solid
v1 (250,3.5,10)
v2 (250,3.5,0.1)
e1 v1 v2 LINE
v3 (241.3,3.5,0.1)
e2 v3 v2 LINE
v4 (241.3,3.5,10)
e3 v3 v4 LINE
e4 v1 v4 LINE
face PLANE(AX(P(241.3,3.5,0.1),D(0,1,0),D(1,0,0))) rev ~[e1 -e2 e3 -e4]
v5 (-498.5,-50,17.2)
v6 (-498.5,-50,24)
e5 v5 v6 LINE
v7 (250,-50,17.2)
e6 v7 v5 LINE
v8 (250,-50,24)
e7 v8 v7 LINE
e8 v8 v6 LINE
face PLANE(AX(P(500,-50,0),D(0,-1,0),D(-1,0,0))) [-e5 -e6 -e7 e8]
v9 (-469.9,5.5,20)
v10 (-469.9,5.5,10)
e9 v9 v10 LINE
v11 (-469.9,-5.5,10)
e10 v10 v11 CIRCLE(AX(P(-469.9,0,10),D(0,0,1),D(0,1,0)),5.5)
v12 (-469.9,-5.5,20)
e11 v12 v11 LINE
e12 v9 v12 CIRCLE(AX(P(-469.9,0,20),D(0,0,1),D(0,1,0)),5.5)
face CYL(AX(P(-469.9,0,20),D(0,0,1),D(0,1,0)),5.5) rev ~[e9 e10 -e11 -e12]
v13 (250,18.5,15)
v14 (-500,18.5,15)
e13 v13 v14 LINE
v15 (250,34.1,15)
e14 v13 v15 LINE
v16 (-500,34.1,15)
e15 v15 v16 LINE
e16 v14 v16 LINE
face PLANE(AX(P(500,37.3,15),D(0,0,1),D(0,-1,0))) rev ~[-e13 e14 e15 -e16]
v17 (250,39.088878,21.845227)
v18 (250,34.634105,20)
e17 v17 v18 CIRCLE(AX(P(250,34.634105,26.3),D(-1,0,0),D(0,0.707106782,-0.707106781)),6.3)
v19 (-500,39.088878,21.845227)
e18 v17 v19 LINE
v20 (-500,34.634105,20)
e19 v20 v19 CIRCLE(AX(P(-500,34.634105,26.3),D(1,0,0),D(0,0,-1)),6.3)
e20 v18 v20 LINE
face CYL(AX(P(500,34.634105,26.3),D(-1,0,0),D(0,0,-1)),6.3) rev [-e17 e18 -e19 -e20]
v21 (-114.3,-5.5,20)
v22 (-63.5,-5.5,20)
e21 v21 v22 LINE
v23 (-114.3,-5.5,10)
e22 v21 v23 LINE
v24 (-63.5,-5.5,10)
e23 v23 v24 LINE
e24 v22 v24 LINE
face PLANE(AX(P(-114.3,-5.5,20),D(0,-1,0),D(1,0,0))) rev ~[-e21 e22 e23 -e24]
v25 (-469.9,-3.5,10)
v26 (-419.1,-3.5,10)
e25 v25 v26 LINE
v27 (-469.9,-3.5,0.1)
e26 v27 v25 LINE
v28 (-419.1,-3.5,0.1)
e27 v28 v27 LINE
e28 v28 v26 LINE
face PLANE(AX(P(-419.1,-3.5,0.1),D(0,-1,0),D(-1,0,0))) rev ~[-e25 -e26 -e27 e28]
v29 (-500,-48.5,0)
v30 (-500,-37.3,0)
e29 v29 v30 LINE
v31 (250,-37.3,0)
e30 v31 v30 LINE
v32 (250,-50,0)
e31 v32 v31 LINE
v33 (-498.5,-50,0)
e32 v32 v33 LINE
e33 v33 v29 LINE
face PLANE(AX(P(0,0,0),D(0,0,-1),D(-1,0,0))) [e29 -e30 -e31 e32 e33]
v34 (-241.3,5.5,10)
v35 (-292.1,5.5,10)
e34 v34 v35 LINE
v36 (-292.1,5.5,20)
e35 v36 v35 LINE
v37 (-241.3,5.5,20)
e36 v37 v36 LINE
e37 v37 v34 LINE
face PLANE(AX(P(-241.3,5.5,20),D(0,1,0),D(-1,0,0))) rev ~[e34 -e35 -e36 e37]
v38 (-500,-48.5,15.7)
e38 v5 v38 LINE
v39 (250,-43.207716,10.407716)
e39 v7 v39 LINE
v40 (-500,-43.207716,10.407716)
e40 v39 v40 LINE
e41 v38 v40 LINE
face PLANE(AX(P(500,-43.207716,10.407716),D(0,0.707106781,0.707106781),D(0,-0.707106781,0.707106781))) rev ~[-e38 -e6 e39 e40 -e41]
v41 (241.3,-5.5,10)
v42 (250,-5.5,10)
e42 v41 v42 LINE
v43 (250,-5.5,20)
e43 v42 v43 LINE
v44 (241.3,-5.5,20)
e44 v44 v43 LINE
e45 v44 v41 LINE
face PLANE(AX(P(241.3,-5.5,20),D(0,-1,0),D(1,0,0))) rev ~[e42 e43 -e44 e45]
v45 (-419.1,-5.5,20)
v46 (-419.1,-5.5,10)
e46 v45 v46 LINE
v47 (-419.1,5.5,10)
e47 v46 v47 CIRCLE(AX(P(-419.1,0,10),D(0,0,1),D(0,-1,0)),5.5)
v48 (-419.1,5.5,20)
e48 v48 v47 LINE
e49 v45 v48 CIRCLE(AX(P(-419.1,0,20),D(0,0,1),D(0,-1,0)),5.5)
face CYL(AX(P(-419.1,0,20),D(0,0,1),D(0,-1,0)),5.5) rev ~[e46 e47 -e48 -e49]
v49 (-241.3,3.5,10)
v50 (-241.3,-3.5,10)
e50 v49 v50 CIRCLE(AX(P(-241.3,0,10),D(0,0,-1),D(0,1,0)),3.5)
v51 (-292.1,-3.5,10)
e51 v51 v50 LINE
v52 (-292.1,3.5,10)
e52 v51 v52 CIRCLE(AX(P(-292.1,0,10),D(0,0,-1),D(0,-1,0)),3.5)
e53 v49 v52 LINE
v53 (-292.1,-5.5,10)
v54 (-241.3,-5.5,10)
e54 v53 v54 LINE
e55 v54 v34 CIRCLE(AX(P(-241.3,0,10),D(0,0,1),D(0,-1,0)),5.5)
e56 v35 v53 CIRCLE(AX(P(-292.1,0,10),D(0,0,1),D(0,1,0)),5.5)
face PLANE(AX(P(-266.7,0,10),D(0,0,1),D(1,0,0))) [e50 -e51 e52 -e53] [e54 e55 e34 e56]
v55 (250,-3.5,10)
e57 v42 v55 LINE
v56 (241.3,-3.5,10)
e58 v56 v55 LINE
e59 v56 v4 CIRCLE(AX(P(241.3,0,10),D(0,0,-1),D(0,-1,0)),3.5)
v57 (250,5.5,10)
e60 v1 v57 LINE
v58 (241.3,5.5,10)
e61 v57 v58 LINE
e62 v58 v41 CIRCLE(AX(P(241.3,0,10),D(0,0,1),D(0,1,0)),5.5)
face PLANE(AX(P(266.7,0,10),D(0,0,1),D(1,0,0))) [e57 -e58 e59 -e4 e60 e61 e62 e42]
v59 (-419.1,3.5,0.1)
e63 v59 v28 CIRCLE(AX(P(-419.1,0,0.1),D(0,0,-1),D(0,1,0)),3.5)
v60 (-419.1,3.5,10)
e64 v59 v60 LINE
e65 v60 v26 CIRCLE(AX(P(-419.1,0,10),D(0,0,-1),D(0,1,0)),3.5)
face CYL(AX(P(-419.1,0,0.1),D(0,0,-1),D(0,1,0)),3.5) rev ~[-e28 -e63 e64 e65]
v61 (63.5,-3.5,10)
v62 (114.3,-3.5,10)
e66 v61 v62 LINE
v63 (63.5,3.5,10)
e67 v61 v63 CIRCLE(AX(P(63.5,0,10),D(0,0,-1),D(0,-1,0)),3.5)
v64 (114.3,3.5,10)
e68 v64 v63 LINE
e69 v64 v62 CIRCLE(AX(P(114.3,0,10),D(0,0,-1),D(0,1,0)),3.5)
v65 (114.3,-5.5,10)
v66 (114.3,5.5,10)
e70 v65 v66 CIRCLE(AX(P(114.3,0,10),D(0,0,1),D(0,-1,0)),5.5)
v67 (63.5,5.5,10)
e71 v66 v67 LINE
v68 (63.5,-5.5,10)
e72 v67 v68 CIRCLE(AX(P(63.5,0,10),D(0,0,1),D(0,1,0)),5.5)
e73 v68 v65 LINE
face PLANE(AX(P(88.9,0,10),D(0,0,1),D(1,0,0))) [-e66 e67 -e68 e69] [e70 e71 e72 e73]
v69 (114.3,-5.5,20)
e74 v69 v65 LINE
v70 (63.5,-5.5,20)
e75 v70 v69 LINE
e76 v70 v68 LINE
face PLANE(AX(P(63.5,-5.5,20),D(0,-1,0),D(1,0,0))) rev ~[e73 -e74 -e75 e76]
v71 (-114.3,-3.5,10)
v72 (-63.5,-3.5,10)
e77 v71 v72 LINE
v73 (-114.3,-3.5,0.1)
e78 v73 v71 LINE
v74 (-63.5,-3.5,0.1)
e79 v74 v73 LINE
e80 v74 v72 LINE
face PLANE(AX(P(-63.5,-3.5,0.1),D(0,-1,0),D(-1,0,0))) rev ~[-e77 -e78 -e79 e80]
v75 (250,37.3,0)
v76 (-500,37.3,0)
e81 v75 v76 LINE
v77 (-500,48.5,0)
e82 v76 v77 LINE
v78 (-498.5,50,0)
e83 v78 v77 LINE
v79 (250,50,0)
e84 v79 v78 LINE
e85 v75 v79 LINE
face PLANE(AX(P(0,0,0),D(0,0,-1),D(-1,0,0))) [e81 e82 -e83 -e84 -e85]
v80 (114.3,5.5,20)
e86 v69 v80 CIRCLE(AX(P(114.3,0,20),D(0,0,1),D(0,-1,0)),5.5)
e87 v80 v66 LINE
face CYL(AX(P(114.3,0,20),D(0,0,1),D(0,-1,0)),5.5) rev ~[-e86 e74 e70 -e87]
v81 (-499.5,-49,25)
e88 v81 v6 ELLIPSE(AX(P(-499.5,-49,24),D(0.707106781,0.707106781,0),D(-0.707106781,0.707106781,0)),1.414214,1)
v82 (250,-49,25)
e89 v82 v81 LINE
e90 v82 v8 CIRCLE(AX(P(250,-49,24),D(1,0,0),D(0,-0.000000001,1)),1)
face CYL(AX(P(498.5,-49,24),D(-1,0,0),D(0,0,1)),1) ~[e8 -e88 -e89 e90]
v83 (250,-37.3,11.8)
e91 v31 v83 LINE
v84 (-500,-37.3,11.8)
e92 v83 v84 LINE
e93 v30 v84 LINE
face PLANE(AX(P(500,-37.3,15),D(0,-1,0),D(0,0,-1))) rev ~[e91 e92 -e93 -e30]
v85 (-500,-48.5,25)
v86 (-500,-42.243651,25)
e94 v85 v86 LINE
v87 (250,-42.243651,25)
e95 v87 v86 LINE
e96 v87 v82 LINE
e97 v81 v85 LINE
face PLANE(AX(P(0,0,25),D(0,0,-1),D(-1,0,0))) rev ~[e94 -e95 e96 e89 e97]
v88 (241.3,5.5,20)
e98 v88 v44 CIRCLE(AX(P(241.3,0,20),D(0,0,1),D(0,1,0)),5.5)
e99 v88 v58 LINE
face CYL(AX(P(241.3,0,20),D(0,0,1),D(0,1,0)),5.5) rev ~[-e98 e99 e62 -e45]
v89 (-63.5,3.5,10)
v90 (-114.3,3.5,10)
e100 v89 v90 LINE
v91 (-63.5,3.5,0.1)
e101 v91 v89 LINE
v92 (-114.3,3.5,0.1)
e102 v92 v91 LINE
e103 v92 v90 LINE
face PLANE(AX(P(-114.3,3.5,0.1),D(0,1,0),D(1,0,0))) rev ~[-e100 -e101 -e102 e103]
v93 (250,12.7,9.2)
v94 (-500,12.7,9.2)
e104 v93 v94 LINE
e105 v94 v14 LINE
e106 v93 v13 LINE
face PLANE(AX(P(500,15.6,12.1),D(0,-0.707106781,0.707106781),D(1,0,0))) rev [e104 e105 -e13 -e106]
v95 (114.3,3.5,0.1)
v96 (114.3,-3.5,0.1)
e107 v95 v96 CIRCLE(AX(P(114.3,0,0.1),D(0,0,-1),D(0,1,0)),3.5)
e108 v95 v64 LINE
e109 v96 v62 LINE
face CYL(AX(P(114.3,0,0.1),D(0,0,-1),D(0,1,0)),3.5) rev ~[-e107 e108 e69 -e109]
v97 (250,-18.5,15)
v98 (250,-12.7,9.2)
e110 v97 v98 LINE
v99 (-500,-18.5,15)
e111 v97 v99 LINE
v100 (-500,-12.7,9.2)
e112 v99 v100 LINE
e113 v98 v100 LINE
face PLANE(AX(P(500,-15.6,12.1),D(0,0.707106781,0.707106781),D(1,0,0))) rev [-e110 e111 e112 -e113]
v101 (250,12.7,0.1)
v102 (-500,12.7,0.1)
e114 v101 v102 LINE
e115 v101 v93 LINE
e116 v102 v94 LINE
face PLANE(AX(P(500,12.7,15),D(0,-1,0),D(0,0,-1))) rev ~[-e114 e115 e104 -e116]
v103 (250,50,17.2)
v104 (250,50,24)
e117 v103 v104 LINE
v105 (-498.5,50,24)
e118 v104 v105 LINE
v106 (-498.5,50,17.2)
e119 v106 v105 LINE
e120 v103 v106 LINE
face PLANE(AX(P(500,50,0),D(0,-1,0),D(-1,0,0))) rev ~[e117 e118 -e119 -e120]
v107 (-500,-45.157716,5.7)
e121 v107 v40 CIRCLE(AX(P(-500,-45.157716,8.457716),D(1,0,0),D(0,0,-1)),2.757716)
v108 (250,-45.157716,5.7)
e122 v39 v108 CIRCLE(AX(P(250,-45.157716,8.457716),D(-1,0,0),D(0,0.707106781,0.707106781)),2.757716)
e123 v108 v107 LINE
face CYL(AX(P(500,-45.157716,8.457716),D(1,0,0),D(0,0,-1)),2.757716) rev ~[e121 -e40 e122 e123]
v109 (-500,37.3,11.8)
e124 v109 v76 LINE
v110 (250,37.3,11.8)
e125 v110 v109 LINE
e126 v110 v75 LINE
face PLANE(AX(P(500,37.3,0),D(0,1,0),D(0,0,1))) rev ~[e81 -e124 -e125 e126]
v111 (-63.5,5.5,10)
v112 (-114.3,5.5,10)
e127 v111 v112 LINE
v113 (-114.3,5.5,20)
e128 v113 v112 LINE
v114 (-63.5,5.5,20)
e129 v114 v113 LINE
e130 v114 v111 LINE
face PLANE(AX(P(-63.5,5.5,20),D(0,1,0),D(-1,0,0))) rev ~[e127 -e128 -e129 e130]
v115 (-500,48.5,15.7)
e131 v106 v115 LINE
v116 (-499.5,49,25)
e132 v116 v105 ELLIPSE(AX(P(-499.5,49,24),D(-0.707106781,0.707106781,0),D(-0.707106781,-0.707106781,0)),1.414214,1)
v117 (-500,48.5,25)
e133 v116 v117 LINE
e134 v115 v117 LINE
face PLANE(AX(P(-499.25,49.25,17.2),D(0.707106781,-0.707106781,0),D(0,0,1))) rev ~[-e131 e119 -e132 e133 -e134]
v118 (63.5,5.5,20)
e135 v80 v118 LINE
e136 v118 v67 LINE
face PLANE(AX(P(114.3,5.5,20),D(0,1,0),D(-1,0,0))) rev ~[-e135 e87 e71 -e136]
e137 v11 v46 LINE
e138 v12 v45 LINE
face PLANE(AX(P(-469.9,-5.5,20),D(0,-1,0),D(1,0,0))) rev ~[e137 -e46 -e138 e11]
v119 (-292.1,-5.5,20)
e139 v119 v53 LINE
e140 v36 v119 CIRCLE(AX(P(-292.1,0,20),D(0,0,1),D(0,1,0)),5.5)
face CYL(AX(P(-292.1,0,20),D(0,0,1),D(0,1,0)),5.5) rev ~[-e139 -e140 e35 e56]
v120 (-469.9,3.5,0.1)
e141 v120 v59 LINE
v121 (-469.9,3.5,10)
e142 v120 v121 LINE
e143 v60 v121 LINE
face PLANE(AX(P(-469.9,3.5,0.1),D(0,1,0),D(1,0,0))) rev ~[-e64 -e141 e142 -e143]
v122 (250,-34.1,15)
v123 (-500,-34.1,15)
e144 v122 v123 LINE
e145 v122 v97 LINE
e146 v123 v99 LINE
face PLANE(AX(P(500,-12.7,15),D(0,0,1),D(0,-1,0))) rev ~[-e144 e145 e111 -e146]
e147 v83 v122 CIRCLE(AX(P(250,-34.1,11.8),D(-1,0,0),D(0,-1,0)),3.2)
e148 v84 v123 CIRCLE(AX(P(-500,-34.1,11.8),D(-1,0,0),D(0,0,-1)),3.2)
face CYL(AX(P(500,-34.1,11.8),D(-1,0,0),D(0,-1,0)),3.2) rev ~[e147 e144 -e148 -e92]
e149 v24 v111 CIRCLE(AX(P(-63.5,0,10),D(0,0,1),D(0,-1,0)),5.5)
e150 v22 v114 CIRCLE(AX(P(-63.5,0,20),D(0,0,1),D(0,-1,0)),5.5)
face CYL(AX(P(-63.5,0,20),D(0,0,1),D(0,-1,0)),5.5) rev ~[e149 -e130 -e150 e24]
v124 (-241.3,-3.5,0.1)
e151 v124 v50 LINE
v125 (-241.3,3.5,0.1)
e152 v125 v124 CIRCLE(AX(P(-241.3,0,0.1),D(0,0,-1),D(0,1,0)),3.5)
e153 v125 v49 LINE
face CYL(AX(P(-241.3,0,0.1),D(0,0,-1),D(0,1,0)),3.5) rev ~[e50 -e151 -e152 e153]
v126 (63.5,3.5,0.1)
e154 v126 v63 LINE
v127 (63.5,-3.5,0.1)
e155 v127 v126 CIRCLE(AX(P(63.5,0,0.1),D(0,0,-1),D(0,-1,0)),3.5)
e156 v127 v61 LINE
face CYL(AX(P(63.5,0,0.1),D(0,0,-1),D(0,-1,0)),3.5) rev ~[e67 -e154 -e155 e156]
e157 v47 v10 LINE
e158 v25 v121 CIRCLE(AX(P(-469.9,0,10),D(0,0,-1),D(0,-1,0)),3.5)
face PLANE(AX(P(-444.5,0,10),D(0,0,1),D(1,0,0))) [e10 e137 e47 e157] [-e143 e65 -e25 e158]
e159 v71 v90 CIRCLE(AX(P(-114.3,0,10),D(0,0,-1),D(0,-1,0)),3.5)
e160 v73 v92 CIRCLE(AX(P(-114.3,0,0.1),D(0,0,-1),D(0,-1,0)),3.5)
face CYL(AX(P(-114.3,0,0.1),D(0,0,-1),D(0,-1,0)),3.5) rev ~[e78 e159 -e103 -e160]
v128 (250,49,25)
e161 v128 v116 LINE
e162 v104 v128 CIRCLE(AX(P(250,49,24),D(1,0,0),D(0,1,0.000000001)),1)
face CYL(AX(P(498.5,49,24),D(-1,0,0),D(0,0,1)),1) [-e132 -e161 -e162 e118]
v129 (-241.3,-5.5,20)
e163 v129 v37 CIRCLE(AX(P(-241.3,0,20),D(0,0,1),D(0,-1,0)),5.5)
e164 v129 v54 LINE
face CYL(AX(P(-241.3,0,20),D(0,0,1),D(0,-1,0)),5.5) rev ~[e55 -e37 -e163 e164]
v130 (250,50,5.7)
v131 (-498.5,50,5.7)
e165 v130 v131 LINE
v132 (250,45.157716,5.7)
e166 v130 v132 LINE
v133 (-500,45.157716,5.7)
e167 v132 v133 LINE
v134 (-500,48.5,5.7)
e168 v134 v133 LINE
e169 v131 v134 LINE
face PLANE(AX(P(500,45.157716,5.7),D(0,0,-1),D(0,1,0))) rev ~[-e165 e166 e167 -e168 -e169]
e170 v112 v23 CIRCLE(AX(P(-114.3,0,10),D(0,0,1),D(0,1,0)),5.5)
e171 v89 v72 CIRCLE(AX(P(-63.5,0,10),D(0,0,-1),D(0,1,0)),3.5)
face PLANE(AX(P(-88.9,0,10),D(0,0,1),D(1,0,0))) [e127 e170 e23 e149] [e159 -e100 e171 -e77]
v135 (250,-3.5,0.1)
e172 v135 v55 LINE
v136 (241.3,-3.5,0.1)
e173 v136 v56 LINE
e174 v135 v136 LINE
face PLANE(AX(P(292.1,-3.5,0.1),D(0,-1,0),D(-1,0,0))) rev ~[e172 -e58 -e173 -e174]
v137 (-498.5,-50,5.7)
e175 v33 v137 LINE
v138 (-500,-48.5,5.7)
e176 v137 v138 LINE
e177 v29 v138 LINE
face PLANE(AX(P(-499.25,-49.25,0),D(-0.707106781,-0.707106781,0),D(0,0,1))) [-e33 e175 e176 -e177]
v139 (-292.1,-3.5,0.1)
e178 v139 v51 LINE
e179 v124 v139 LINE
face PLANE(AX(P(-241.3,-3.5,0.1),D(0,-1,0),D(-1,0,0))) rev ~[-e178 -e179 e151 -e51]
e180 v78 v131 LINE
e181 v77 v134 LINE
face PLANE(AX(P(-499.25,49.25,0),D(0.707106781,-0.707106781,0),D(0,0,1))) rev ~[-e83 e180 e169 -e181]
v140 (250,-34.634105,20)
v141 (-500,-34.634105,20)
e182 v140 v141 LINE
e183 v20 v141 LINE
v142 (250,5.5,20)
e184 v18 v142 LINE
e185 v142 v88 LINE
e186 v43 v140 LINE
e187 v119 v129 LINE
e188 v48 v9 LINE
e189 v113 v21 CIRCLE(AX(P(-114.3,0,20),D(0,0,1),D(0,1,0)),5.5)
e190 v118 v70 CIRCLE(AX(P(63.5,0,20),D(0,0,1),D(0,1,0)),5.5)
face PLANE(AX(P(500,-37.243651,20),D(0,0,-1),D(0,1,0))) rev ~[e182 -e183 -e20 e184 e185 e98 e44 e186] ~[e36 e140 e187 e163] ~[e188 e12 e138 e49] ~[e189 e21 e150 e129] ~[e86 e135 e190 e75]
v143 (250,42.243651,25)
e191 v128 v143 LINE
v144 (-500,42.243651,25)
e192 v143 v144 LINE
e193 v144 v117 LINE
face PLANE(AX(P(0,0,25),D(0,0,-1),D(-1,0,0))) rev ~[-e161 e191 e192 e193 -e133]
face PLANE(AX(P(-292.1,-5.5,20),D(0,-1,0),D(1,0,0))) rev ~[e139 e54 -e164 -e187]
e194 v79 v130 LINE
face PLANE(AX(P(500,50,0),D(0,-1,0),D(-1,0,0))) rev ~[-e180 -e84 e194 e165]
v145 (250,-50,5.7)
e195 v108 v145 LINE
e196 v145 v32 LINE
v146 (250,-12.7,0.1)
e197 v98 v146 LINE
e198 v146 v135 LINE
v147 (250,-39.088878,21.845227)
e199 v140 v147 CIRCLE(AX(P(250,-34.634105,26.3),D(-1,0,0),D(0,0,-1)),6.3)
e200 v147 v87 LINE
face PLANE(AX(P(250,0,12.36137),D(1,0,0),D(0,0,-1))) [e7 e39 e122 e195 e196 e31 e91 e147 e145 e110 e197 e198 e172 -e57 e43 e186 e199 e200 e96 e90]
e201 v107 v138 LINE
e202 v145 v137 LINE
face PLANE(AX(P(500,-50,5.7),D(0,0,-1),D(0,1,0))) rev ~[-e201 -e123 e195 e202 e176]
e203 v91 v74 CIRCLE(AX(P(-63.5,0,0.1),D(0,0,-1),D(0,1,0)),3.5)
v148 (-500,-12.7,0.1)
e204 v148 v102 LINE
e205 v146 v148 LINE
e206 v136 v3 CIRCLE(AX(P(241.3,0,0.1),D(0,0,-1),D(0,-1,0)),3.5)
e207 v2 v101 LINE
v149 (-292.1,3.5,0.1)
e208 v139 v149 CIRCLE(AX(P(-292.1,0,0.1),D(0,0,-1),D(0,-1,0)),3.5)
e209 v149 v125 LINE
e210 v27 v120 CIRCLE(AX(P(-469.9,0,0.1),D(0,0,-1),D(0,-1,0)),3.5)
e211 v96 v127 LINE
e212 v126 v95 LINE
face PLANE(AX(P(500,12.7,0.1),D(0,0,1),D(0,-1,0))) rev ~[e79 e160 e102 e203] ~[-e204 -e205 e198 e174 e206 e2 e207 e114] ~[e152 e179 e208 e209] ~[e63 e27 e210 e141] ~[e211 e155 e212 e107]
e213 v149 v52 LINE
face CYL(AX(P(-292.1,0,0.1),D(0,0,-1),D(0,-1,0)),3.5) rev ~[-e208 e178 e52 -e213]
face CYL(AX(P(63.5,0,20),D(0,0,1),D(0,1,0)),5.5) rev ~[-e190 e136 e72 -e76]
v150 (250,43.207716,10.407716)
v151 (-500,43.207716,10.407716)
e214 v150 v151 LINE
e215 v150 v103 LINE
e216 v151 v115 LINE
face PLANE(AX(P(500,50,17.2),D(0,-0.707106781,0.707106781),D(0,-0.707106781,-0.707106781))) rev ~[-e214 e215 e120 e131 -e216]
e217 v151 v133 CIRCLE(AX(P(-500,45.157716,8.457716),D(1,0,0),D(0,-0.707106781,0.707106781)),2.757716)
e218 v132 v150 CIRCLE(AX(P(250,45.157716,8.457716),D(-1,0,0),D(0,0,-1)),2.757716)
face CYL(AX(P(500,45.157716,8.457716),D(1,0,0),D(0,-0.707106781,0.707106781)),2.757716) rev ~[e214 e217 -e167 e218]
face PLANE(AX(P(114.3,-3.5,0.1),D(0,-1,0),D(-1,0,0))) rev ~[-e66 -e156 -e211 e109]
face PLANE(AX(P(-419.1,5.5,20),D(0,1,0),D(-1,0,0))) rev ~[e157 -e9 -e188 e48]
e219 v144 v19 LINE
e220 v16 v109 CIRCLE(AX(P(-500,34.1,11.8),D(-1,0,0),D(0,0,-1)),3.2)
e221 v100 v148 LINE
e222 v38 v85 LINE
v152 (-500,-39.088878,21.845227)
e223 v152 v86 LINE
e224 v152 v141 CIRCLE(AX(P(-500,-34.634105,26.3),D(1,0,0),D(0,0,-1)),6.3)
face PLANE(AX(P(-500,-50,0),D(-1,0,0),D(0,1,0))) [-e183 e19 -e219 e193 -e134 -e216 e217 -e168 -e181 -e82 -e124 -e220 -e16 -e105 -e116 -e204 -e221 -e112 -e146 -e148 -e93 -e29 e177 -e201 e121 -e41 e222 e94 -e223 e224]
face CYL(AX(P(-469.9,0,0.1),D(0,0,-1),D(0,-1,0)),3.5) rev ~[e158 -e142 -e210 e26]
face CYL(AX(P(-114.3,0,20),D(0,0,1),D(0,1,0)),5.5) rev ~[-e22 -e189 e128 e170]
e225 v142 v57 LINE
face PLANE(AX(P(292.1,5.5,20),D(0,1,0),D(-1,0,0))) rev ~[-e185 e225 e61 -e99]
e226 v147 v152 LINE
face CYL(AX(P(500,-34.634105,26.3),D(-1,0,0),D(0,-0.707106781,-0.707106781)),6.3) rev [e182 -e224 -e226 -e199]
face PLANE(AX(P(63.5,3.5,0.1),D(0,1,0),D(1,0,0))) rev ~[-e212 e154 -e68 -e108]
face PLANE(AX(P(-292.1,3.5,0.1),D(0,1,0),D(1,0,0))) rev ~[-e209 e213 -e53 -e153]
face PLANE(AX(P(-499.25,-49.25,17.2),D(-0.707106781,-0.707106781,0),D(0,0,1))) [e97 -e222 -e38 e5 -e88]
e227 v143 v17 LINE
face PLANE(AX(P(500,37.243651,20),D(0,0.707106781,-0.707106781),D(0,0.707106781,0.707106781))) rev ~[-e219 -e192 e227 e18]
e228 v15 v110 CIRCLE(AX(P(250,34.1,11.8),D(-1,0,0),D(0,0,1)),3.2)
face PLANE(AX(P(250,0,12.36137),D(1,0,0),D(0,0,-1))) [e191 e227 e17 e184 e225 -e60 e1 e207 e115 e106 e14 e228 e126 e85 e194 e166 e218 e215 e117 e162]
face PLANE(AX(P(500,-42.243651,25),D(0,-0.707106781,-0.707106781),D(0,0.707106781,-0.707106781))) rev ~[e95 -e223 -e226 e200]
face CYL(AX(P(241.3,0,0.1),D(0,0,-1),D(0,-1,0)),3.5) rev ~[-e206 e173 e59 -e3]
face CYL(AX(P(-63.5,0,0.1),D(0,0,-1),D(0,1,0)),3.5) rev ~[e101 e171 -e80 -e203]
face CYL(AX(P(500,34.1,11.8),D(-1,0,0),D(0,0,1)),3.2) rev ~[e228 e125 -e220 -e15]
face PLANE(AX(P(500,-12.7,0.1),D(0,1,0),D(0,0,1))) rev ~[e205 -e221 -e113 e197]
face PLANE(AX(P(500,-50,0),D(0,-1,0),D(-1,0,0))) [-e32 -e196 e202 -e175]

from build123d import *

# Parameters (mm, degrees)
SKETCH1_W           = 1000
SKETCH1_H           = 100
BOSS_EXTRUDE1_DEPTH = 25
CUT_EXTRUDE1_DEPTH  = 1002.561281201
CUT_EXTRUDE2_DEPTH  = 1002.561281201
CUT_EXTRUDE3_DEPTH  = 1002.561281201
CUT_EXTRUDE4_DEPTH  = 1002.561281201
CUT_EXTRUDE5_DEPTH  = 10
CUT_EXTRUDE6_DEPTH  = 504.110335811
CUT_EXTRUDE7_DEPTH  = 10
CUT_EXTRUDE8_DEPTH  = 504.110335811
CUT_EXTRUDE9_DEPTH  = 10
CUT_EXTRUDE10_DEPTH = 504.110335811
CUT_EXTRUDE11_DEPTH = 10
CUT_EXTRUDE12_DEPTH = 504.110335811
CUT_EXTRUDE13_DEPTH = 10
CUT_EXTRUDE14_DEPTH = 504.110335811
CUT_EXTRUDE15_DEPTH = 10
CUT_EXTRUDE16_DEPTH = 504.110335811
CHAMFER1_SIZE       = 5.8
CHAMFER2_SIZE       = 1.5
FILLET1_R           = 1
FILLET2_R           = 3.2
FILLET3_R           = 6.3
CUT_EXTRUDE17_START = -250
CUT_EXTRUDE17_DEPTH = 250


with BuildPart() as part:
    # Sketch1 → Boss-Extrude1 (new body)
    with BuildSketch(Plane(origin=(0, 0, 0), x_dir=(-1, 0, 0), z_dir=(0, 0, -1))):
        Rectangle(SKETCH1_W, SKETCH1_H)
    extrude(amount=-BOSS_EXTRUDE1_DEPTH)

    # Sketch2 → Cut-Extrude1 (cut, through all)
    with BuildSketch(Plane(origin=(500, 0, 0), x_dir=(0, 0, -1), z_dir=(1, 0, 0))):
        Polygon((0, 37.3), (-15, 37.3), (-15, 12.7), (-0.1, 12.7), (-0.1, -12.7), (-15, -12.7), (-15, -37.3), (0, -37.3), align=None)
    extrude(amount=-CUT_EXTRUDE1_DEPTH, mode=Mode.SUBTRACT)

    # Sketch3 → Cut-Extrude2 (cut, through all)
    with BuildSketch(Plane(origin=(500, 0, 0), x_dir=(0, 0, -1), z_dir=(1, 0, 0))):
        with BuildLine():
            Line((-17.2, -50), (-5.7, -50))
            Line((-5.7, -50), (-5.7, -45.157716447))
            ThreePointArc((-5.7, -45.157716447), (-7.402384051, -42.609918665), (-10.407716447, -43.207716447))
            Line((-10.407716447, -43.207716447), (-17.2, -50))
        make_face()
    extrude(amount=-CUT_EXTRUDE2_DEPTH, mode=Mode.SUBTRACT)

    # Sketch4 → Cut-Extrude3 (cut, through all)
    with BuildSketch(Plane(origin=(500, 0, 0), x_dir=(0, 0, -1), z_dir=(1, 0, 0))):
        Polygon((-25, -42.243650814), (-20, -37.243650814), (-20, 37.243650814), (-25, 42.243650814), align=None)
    extrude(amount=-CUT_EXTRUDE3_DEPTH, mode=Mode.SUBTRACT)

    # Sketch5 → Cut-Extrude4 (cut, through all)
    with BuildSketch(Plane(origin=(500, 0, 0), x_dir=(0, 0, -1), z_dir=(1, 0, 0))):
        with BuildLine():
            Line((-5.7, 50), (-17.2, 50))
            Line((-17.2, 50), (-10.407716447, 43.207716447))
            ThreePointArc((-10.407716447, 43.207716447), (-7.402384051, 42.609918665), (-5.7, 45.157716447))
            Line((-5.7, 45.157716447), (-5.7, 50))
        make_face()
    extrude(amount=-CUT_EXTRUDE4_DEPTH, mode=Mode.SUBTRACT)

    # Sketch6 → Cut-Extrude5 (cut)
    with BuildSketch(Plane.XY.offset(20)):
        with BuildLine():
            Line((419.1, -5.5), (469.9, -5.5))
            ThreePointArc((469.9, -5.5), (475.4, 0), (469.9, 5.5))
            Line((469.9, 5.5), (419.1, 5.5))
            ThreePointArc((419.1, 5.5), (413.6, 0), (419.1, -5.5))
        make_face()
    extrude(amount=-CUT_EXTRUDE5_DEPTH, mode=Mode.SUBTRACT)

    # Sketch7 → Cut-Extrude6 (cut, through all)
    with BuildSketch(Plane(origin=(0, 0, 0.1), x_dir=(-1, 0, 0), z_dir=(0, 0, -1))):
        with BuildLine():
            Line((-469.9, -3.5), (-419.1, -3.5))
            ThreePointArc((-419.1, -3.5), (-415.6, 0), (-419.1, 3.5))
            Line((-419.1, 3.5), (-469.9, 3.5))
            ThreePointArc((-469.9, 3.5), (-473.4, 0), (-469.9, -3.5))
        make_face()
    extrude(amount=-CUT_EXTRUDE6_DEPTH, mode=Mode.SUBTRACT)

    # Sketch8 → Cut-Extrude7 (cut)
    with BuildSketch(Plane.XY.offset(20)):
        with BuildLine():
            Line((241.3, -5.5), (292.1, -5.5))
            ThreePointArc((292.1, -5.5), (297.6, 0), (292.1, 5.5))
            Line((292.1, 5.5), (241.3, 5.5))
            ThreePointArc((241.3, 5.5), (235.8, 0), (241.3, -5.5))
        make_face()
    extrude(amount=-CUT_EXTRUDE7_DEPTH, mode=Mode.SUBTRACT)

    # Sketch9 → Cut-Extrude8 (cut, through all)
    with BuildSketch(Plane(origin=(0, 0, 0.1), x_dir=(-1, 0, 0), z_dir=(0, 0, -1))):
        with BuildLine():
            Line((-292.1, -3.5), (-241.3, -3.5))
            ThreePointArc((-241.3, -3.5), (-237.8, 0), (-241.3, 3.5))
            Line((-241.3, 3.5), (-292.1, 3.5))
            ThreePointArc((-292.1, 3.5), (-295.6, 0), (-292.1, -3.5))
        make_face()
    extrude(amount=-CUT_EXTRUDE8_DEPTH, mode=Mode.SUBTRACT)

    # Sketch10 → Cut-Extrude9 (cut)
    with BuildSketch(Plane.XY.offset(20)):
        with BuildLine():
            Line((63.5, -5.5), (114.3, -5.5))
            ThreePointArc((114.3, -5.5), (119.8, 0), (114.3, 5.5))
            Line((114.3, 5.5), (63.5, 5.5))
            ThreePointArc((63.5, 5.5), (58, 0), (63.5, -5.5))
        make_face()
    extrude(amount=-CUT_EXTRUDE9_DEPTH, mode=Mode.SUBTRACT)

    # Sketch11 → Cut-Extrude10 (cut, through all)
    with BuildSketch(Plane(origin=(0, 0, 0.1), x_dir=(-1, 0, 0), z_dir=(0, 0, -1))):
        with BuildLine():
            Line((-114.3, -3.5), (-63.5, -3.5))
            ThreePointArc((-63.5, -3.5), (-60, 0), (-63.5, 3.5))
            Line((-63.5, 3.5), (-114.3, 3.5))
            ThreePointArc((-114.3, 3.5), (-117.8, 0), (-114.3, -3.5))
        make_face()
    extrude(amount=-CUT_EXTRUDE10_DEPTH, mode=Mode.SUBTRACT)

    # Sketch12 → Cut-Extrude11 (cut)
    with BuildSketch(Plane.XY.offset(20)):
        with BuildLine():
            Line((-114.3, -5.5), (-63.5, -5.5))
            ThreePointArc((-63.5, -5.5), (-58, 0), (-63.5, 5.5))
            Line((-63.5, 5.5), (-114.3, 5.5))
            ThreePointArc((-114.3, 5.5), (-119.8, 0), (-114.3, -5.5))
        make_face()
    extrude(amount=-CUT_EXTRUDE11_DEPTH, mode=Mode.SUBTRACT)

    # Sketch13 → Cut-Extrude12 (cut, through all)
    with BuildSketch(Plane(origin=(0, 0, 0.1), x_dir=(-1, 0, 0), z_dir=(0, 0, -1))):
        with BuildLine():
            Line((63.5, -3.5), (114.3, -3.5))
            ThreePointArc((114.3, -3.5), (117.8, 0), (114.3, 3.5))
            Line((114.3, 3.5), (63.5, 3.5))
            ThreePointArc((63.5, 3.5), (60, 0), (63.5, -3.5))
        make_face()
    extrude(amount=-CUT_EXTRUDE12_DEPTH, mode=Mode.SUBTRACT)

    # Sketch14 → Cut-Extrude13 (cut)
    with BuildSketch(Plane.XY.offset(20)):
        with BuildLine():
            Line((-292.1, -5.5), (-241.3, -5.5))
            ThreePointArc((-241.3, -5.5), (-235.8, 0), (-241.3, 5.5))
            Line((-241.3, 5.5), (-292.1, 5.5))
            ThreePointArc((-292.1, 5.5), (-297.6, 0), (-292.1, -5.5))
        make_face()
    extrude(amount=-CUT_EXTRUDE13_DEPTH, mode=Mode.SUBTRACT)

    # Sketch15 → Cut-Extrude14 (cut, through all)
    with BuildSketch(Plane(origin=(0, 0, 0.1), x_dir=(-1, 0, 0), z_dir=(0, 0, -1))):
        with BuildLine():
            Line((241.3, -3.5), (292.1, -3.5))
            ThreePointArc((292.1, -3.5), (295.6, 0), (292.1, 3.5))
            Line((292.1, 3.5), (241.3, 3.5))
            ThreePointArc((241.3, 3.5), (237.8, 0), (241.3, -3.5))
        make_face()
    extrude(amount=-CUT_EXTRUDE14_DEPTH, mode=Mode.SUBTRACT)

    # Sketch16 → Cut-Extrude15 (cut)
    with BuildSketch(Plane.XY.offset(20)):
        with BuildLine():
            Line((-469.9, -5.5), (-419.1, -5.5))
            ThreePointArc((-419.1, -5.5), (-413.6, 0), (-419.1, 5.5))
            Line((-419.1, 5.5), (-469.9, 5.5))
            ThreePointArc((-469.9, 5.5), (-475.4, 0), (-469.9, -5.5))
        make_face()
    extrude(amount=-CUT_EXTRUDE15_DEPTH, mode=Mode.SUBTRACT)

    # Sketch17 → Cut-Extrude16 (cut, through all)
    with BuildSketch(Plane(origin=(0, 0, 0.1), x_dir=(-1, 0, 0), z_dir=(0, 0, -1))):
        with BuildLine():
            Line((419.1, -3.5), (469.9, -3.5))
            ThreePointArc((469.9, -3.5), (473.4, 0), (469.9, 3.5))
            Line((469.9, 3.5), (419.1, 3.5))
            ThreePointArc((419.1, 3.5), (415.6, 0), (419.1, -3.5))
        make_face()
    extrude(amount=-CUT_EXTRUDE16_DEPTH, mode=Mode.SUBTRACT)

    # Chamfer1
    chamfer1_edges = [part.edges().sort_by_distance(p)[0] for p in [
        (0, -12.7, 15),
        (0, 12.7, 15),
    ]]
    chamfer(chamfer1_edges, length=CHAMFER1_SIZE)

    # Chamfer2
    chamfer2_edges = [part.edges().sort_by_distance(p)[0] for p in [
        (500, -50, 2.85),
        (-500, -50, 2.85),
        (-500, 50, 21.1),
        (-500, -50, 21.1),
        (500, -50, 21.1),
        (500, 50, 2.85),
        (500, 50, 21.1),
        (-500, 50, 2.85),
    ]]
    chamfer(chamfer2_edges, length=CHAMFER2_SIZE)

    # Fillet1
    fillet1_edges = [part.edges().sort_by_distance(p)[0] for p in [
        (0, 50, 25),
        (0, -50, 25),
    ]]
    fillet(fillet1_edges, radius=FILLET1_R)

    # Fillet2
    fillet2_edges = [part.edges().sort_by_distance(p)[0] for p in [
        (0, -37.3, 15),
        (0, 37.3, 15),
    ]]
    fillet(fillet2_edges, radius=FILLET2_R)

    # Fillet3
    fillet3_edges = [part.edges().sort_by_distance(p)[0] for p in [
        (0, 37.243650814, 20),
        (0, -37.243650814, 20),
    ]]
    fillet(fillet3_edges, radius=FILLET3_R)

    # Sketch18 → Cut-Extrude17 (cut)
    with BuildSketch(Plane(origin=(500, 0, 0), x_dir=(0, 0, -1), z_dir=(1, 0, 0)).offset(CUT_EXTRUDE17_START)):
        with BuildLine():
            Line((-5.7, 50), (-5.7, 48.5))
            Line((-5.7, 48.5), (-5.7, 45.157716447))
            ThreePointArc((-5.7, 45.157716447), (-7.402384051, 42.609918665), (-10.407716447, 43.207716447))
            Line((-10.407716447, 43.207716447), (-15.7, 48.5))
            Line((-15.7, 48.5), (-17.2, 50))
            Line((-17.2, 50), (-24, 50))
            ThreePointArc((-24, 50), (-24.707106781, 49.707106781), (-25, 49))
            Line((-25, 49), (-25, 48.5))
            Line((-25, 48.5), (-25, 42.243650814))
            Line((-25, 42.243650814), (-21.845227279, 39.088878092))
            ThreePointArc((-21.845227279, 39.088878092), (-20.479558945, 37.045010995), (-20, 34.634105371))
            Line((-20, 34.634105371), (-20, -34.634105371))
            ThreePointArc((-20, -34.634105371), (-20.479558945, -37.045010995), (-21.845227279, -39.088878092))
            Line((-21.845227279, -39.088878092), (-25, -42.243650814))
            Line((-25, -42.243650814), (-25, -48.5))
            Line((-25, -48.5), (-25, -49))
            ThreePointArc((-25, -49), (-24.707106781, -49.707106781), (-24, -50))
            Line((-24, -50), (-17.2, -50))
            Line((-17.2, -50), (-15.7, -48.5))
            Line((-15.7, -48.5), (-10.407716447, -43.207716447))
            ThreePointArc((-10.407716447, -43.207716447), (-7.402384051, -42.609918665), (-5.7, -45.157716447))
            Line((-5.7, -45.157716447), (-5.7, -48.5))
            Line((-5.7, -48.5), (-5.7, -50))
            Line((-5.7, -50), (0, -50))
            Line((0, -50), (0, -48.5))
            Line((0, -48.5), (0, -37.3))
            Line((0, -37.3), (-11.8, -37.3))
            ThreePointArc((-11.8, -37.3), (-14.0627417, -36.3627417), (-15, -34.1))
            Line((-15, -34.1), (-15, -18.5))
            Line((-15, -18.5), (-9.2, -12.7))
            Line((-9.2, -12.7), (-0.1, -12.7))
            Line((-0.1, -12.7), (-0.1, 12.7))
            Line((-0.1, 12.7), (-9.2, 12.7))
            Line((-9.2, 12.7), (-15, 18.5))
            Line((-15, 18.5), (-15, 34.1))
            ThreePointArc((-15, 34.1), (-14.0627417, 36.3627417), (-11.8, 37.3))
            Line((-11.8, 37.3), (0, 37.3))
            Line((0, 37.3), (0, 48.5))
            Line((0, 48.5), (0, 50))
            Line((0, 50), (-5.7, 50))
        make_face()
    extrude(amount=CUT_EXTRUDE17_DEPTH, mode=Mode.SUBTRACT)


solid = part.part
